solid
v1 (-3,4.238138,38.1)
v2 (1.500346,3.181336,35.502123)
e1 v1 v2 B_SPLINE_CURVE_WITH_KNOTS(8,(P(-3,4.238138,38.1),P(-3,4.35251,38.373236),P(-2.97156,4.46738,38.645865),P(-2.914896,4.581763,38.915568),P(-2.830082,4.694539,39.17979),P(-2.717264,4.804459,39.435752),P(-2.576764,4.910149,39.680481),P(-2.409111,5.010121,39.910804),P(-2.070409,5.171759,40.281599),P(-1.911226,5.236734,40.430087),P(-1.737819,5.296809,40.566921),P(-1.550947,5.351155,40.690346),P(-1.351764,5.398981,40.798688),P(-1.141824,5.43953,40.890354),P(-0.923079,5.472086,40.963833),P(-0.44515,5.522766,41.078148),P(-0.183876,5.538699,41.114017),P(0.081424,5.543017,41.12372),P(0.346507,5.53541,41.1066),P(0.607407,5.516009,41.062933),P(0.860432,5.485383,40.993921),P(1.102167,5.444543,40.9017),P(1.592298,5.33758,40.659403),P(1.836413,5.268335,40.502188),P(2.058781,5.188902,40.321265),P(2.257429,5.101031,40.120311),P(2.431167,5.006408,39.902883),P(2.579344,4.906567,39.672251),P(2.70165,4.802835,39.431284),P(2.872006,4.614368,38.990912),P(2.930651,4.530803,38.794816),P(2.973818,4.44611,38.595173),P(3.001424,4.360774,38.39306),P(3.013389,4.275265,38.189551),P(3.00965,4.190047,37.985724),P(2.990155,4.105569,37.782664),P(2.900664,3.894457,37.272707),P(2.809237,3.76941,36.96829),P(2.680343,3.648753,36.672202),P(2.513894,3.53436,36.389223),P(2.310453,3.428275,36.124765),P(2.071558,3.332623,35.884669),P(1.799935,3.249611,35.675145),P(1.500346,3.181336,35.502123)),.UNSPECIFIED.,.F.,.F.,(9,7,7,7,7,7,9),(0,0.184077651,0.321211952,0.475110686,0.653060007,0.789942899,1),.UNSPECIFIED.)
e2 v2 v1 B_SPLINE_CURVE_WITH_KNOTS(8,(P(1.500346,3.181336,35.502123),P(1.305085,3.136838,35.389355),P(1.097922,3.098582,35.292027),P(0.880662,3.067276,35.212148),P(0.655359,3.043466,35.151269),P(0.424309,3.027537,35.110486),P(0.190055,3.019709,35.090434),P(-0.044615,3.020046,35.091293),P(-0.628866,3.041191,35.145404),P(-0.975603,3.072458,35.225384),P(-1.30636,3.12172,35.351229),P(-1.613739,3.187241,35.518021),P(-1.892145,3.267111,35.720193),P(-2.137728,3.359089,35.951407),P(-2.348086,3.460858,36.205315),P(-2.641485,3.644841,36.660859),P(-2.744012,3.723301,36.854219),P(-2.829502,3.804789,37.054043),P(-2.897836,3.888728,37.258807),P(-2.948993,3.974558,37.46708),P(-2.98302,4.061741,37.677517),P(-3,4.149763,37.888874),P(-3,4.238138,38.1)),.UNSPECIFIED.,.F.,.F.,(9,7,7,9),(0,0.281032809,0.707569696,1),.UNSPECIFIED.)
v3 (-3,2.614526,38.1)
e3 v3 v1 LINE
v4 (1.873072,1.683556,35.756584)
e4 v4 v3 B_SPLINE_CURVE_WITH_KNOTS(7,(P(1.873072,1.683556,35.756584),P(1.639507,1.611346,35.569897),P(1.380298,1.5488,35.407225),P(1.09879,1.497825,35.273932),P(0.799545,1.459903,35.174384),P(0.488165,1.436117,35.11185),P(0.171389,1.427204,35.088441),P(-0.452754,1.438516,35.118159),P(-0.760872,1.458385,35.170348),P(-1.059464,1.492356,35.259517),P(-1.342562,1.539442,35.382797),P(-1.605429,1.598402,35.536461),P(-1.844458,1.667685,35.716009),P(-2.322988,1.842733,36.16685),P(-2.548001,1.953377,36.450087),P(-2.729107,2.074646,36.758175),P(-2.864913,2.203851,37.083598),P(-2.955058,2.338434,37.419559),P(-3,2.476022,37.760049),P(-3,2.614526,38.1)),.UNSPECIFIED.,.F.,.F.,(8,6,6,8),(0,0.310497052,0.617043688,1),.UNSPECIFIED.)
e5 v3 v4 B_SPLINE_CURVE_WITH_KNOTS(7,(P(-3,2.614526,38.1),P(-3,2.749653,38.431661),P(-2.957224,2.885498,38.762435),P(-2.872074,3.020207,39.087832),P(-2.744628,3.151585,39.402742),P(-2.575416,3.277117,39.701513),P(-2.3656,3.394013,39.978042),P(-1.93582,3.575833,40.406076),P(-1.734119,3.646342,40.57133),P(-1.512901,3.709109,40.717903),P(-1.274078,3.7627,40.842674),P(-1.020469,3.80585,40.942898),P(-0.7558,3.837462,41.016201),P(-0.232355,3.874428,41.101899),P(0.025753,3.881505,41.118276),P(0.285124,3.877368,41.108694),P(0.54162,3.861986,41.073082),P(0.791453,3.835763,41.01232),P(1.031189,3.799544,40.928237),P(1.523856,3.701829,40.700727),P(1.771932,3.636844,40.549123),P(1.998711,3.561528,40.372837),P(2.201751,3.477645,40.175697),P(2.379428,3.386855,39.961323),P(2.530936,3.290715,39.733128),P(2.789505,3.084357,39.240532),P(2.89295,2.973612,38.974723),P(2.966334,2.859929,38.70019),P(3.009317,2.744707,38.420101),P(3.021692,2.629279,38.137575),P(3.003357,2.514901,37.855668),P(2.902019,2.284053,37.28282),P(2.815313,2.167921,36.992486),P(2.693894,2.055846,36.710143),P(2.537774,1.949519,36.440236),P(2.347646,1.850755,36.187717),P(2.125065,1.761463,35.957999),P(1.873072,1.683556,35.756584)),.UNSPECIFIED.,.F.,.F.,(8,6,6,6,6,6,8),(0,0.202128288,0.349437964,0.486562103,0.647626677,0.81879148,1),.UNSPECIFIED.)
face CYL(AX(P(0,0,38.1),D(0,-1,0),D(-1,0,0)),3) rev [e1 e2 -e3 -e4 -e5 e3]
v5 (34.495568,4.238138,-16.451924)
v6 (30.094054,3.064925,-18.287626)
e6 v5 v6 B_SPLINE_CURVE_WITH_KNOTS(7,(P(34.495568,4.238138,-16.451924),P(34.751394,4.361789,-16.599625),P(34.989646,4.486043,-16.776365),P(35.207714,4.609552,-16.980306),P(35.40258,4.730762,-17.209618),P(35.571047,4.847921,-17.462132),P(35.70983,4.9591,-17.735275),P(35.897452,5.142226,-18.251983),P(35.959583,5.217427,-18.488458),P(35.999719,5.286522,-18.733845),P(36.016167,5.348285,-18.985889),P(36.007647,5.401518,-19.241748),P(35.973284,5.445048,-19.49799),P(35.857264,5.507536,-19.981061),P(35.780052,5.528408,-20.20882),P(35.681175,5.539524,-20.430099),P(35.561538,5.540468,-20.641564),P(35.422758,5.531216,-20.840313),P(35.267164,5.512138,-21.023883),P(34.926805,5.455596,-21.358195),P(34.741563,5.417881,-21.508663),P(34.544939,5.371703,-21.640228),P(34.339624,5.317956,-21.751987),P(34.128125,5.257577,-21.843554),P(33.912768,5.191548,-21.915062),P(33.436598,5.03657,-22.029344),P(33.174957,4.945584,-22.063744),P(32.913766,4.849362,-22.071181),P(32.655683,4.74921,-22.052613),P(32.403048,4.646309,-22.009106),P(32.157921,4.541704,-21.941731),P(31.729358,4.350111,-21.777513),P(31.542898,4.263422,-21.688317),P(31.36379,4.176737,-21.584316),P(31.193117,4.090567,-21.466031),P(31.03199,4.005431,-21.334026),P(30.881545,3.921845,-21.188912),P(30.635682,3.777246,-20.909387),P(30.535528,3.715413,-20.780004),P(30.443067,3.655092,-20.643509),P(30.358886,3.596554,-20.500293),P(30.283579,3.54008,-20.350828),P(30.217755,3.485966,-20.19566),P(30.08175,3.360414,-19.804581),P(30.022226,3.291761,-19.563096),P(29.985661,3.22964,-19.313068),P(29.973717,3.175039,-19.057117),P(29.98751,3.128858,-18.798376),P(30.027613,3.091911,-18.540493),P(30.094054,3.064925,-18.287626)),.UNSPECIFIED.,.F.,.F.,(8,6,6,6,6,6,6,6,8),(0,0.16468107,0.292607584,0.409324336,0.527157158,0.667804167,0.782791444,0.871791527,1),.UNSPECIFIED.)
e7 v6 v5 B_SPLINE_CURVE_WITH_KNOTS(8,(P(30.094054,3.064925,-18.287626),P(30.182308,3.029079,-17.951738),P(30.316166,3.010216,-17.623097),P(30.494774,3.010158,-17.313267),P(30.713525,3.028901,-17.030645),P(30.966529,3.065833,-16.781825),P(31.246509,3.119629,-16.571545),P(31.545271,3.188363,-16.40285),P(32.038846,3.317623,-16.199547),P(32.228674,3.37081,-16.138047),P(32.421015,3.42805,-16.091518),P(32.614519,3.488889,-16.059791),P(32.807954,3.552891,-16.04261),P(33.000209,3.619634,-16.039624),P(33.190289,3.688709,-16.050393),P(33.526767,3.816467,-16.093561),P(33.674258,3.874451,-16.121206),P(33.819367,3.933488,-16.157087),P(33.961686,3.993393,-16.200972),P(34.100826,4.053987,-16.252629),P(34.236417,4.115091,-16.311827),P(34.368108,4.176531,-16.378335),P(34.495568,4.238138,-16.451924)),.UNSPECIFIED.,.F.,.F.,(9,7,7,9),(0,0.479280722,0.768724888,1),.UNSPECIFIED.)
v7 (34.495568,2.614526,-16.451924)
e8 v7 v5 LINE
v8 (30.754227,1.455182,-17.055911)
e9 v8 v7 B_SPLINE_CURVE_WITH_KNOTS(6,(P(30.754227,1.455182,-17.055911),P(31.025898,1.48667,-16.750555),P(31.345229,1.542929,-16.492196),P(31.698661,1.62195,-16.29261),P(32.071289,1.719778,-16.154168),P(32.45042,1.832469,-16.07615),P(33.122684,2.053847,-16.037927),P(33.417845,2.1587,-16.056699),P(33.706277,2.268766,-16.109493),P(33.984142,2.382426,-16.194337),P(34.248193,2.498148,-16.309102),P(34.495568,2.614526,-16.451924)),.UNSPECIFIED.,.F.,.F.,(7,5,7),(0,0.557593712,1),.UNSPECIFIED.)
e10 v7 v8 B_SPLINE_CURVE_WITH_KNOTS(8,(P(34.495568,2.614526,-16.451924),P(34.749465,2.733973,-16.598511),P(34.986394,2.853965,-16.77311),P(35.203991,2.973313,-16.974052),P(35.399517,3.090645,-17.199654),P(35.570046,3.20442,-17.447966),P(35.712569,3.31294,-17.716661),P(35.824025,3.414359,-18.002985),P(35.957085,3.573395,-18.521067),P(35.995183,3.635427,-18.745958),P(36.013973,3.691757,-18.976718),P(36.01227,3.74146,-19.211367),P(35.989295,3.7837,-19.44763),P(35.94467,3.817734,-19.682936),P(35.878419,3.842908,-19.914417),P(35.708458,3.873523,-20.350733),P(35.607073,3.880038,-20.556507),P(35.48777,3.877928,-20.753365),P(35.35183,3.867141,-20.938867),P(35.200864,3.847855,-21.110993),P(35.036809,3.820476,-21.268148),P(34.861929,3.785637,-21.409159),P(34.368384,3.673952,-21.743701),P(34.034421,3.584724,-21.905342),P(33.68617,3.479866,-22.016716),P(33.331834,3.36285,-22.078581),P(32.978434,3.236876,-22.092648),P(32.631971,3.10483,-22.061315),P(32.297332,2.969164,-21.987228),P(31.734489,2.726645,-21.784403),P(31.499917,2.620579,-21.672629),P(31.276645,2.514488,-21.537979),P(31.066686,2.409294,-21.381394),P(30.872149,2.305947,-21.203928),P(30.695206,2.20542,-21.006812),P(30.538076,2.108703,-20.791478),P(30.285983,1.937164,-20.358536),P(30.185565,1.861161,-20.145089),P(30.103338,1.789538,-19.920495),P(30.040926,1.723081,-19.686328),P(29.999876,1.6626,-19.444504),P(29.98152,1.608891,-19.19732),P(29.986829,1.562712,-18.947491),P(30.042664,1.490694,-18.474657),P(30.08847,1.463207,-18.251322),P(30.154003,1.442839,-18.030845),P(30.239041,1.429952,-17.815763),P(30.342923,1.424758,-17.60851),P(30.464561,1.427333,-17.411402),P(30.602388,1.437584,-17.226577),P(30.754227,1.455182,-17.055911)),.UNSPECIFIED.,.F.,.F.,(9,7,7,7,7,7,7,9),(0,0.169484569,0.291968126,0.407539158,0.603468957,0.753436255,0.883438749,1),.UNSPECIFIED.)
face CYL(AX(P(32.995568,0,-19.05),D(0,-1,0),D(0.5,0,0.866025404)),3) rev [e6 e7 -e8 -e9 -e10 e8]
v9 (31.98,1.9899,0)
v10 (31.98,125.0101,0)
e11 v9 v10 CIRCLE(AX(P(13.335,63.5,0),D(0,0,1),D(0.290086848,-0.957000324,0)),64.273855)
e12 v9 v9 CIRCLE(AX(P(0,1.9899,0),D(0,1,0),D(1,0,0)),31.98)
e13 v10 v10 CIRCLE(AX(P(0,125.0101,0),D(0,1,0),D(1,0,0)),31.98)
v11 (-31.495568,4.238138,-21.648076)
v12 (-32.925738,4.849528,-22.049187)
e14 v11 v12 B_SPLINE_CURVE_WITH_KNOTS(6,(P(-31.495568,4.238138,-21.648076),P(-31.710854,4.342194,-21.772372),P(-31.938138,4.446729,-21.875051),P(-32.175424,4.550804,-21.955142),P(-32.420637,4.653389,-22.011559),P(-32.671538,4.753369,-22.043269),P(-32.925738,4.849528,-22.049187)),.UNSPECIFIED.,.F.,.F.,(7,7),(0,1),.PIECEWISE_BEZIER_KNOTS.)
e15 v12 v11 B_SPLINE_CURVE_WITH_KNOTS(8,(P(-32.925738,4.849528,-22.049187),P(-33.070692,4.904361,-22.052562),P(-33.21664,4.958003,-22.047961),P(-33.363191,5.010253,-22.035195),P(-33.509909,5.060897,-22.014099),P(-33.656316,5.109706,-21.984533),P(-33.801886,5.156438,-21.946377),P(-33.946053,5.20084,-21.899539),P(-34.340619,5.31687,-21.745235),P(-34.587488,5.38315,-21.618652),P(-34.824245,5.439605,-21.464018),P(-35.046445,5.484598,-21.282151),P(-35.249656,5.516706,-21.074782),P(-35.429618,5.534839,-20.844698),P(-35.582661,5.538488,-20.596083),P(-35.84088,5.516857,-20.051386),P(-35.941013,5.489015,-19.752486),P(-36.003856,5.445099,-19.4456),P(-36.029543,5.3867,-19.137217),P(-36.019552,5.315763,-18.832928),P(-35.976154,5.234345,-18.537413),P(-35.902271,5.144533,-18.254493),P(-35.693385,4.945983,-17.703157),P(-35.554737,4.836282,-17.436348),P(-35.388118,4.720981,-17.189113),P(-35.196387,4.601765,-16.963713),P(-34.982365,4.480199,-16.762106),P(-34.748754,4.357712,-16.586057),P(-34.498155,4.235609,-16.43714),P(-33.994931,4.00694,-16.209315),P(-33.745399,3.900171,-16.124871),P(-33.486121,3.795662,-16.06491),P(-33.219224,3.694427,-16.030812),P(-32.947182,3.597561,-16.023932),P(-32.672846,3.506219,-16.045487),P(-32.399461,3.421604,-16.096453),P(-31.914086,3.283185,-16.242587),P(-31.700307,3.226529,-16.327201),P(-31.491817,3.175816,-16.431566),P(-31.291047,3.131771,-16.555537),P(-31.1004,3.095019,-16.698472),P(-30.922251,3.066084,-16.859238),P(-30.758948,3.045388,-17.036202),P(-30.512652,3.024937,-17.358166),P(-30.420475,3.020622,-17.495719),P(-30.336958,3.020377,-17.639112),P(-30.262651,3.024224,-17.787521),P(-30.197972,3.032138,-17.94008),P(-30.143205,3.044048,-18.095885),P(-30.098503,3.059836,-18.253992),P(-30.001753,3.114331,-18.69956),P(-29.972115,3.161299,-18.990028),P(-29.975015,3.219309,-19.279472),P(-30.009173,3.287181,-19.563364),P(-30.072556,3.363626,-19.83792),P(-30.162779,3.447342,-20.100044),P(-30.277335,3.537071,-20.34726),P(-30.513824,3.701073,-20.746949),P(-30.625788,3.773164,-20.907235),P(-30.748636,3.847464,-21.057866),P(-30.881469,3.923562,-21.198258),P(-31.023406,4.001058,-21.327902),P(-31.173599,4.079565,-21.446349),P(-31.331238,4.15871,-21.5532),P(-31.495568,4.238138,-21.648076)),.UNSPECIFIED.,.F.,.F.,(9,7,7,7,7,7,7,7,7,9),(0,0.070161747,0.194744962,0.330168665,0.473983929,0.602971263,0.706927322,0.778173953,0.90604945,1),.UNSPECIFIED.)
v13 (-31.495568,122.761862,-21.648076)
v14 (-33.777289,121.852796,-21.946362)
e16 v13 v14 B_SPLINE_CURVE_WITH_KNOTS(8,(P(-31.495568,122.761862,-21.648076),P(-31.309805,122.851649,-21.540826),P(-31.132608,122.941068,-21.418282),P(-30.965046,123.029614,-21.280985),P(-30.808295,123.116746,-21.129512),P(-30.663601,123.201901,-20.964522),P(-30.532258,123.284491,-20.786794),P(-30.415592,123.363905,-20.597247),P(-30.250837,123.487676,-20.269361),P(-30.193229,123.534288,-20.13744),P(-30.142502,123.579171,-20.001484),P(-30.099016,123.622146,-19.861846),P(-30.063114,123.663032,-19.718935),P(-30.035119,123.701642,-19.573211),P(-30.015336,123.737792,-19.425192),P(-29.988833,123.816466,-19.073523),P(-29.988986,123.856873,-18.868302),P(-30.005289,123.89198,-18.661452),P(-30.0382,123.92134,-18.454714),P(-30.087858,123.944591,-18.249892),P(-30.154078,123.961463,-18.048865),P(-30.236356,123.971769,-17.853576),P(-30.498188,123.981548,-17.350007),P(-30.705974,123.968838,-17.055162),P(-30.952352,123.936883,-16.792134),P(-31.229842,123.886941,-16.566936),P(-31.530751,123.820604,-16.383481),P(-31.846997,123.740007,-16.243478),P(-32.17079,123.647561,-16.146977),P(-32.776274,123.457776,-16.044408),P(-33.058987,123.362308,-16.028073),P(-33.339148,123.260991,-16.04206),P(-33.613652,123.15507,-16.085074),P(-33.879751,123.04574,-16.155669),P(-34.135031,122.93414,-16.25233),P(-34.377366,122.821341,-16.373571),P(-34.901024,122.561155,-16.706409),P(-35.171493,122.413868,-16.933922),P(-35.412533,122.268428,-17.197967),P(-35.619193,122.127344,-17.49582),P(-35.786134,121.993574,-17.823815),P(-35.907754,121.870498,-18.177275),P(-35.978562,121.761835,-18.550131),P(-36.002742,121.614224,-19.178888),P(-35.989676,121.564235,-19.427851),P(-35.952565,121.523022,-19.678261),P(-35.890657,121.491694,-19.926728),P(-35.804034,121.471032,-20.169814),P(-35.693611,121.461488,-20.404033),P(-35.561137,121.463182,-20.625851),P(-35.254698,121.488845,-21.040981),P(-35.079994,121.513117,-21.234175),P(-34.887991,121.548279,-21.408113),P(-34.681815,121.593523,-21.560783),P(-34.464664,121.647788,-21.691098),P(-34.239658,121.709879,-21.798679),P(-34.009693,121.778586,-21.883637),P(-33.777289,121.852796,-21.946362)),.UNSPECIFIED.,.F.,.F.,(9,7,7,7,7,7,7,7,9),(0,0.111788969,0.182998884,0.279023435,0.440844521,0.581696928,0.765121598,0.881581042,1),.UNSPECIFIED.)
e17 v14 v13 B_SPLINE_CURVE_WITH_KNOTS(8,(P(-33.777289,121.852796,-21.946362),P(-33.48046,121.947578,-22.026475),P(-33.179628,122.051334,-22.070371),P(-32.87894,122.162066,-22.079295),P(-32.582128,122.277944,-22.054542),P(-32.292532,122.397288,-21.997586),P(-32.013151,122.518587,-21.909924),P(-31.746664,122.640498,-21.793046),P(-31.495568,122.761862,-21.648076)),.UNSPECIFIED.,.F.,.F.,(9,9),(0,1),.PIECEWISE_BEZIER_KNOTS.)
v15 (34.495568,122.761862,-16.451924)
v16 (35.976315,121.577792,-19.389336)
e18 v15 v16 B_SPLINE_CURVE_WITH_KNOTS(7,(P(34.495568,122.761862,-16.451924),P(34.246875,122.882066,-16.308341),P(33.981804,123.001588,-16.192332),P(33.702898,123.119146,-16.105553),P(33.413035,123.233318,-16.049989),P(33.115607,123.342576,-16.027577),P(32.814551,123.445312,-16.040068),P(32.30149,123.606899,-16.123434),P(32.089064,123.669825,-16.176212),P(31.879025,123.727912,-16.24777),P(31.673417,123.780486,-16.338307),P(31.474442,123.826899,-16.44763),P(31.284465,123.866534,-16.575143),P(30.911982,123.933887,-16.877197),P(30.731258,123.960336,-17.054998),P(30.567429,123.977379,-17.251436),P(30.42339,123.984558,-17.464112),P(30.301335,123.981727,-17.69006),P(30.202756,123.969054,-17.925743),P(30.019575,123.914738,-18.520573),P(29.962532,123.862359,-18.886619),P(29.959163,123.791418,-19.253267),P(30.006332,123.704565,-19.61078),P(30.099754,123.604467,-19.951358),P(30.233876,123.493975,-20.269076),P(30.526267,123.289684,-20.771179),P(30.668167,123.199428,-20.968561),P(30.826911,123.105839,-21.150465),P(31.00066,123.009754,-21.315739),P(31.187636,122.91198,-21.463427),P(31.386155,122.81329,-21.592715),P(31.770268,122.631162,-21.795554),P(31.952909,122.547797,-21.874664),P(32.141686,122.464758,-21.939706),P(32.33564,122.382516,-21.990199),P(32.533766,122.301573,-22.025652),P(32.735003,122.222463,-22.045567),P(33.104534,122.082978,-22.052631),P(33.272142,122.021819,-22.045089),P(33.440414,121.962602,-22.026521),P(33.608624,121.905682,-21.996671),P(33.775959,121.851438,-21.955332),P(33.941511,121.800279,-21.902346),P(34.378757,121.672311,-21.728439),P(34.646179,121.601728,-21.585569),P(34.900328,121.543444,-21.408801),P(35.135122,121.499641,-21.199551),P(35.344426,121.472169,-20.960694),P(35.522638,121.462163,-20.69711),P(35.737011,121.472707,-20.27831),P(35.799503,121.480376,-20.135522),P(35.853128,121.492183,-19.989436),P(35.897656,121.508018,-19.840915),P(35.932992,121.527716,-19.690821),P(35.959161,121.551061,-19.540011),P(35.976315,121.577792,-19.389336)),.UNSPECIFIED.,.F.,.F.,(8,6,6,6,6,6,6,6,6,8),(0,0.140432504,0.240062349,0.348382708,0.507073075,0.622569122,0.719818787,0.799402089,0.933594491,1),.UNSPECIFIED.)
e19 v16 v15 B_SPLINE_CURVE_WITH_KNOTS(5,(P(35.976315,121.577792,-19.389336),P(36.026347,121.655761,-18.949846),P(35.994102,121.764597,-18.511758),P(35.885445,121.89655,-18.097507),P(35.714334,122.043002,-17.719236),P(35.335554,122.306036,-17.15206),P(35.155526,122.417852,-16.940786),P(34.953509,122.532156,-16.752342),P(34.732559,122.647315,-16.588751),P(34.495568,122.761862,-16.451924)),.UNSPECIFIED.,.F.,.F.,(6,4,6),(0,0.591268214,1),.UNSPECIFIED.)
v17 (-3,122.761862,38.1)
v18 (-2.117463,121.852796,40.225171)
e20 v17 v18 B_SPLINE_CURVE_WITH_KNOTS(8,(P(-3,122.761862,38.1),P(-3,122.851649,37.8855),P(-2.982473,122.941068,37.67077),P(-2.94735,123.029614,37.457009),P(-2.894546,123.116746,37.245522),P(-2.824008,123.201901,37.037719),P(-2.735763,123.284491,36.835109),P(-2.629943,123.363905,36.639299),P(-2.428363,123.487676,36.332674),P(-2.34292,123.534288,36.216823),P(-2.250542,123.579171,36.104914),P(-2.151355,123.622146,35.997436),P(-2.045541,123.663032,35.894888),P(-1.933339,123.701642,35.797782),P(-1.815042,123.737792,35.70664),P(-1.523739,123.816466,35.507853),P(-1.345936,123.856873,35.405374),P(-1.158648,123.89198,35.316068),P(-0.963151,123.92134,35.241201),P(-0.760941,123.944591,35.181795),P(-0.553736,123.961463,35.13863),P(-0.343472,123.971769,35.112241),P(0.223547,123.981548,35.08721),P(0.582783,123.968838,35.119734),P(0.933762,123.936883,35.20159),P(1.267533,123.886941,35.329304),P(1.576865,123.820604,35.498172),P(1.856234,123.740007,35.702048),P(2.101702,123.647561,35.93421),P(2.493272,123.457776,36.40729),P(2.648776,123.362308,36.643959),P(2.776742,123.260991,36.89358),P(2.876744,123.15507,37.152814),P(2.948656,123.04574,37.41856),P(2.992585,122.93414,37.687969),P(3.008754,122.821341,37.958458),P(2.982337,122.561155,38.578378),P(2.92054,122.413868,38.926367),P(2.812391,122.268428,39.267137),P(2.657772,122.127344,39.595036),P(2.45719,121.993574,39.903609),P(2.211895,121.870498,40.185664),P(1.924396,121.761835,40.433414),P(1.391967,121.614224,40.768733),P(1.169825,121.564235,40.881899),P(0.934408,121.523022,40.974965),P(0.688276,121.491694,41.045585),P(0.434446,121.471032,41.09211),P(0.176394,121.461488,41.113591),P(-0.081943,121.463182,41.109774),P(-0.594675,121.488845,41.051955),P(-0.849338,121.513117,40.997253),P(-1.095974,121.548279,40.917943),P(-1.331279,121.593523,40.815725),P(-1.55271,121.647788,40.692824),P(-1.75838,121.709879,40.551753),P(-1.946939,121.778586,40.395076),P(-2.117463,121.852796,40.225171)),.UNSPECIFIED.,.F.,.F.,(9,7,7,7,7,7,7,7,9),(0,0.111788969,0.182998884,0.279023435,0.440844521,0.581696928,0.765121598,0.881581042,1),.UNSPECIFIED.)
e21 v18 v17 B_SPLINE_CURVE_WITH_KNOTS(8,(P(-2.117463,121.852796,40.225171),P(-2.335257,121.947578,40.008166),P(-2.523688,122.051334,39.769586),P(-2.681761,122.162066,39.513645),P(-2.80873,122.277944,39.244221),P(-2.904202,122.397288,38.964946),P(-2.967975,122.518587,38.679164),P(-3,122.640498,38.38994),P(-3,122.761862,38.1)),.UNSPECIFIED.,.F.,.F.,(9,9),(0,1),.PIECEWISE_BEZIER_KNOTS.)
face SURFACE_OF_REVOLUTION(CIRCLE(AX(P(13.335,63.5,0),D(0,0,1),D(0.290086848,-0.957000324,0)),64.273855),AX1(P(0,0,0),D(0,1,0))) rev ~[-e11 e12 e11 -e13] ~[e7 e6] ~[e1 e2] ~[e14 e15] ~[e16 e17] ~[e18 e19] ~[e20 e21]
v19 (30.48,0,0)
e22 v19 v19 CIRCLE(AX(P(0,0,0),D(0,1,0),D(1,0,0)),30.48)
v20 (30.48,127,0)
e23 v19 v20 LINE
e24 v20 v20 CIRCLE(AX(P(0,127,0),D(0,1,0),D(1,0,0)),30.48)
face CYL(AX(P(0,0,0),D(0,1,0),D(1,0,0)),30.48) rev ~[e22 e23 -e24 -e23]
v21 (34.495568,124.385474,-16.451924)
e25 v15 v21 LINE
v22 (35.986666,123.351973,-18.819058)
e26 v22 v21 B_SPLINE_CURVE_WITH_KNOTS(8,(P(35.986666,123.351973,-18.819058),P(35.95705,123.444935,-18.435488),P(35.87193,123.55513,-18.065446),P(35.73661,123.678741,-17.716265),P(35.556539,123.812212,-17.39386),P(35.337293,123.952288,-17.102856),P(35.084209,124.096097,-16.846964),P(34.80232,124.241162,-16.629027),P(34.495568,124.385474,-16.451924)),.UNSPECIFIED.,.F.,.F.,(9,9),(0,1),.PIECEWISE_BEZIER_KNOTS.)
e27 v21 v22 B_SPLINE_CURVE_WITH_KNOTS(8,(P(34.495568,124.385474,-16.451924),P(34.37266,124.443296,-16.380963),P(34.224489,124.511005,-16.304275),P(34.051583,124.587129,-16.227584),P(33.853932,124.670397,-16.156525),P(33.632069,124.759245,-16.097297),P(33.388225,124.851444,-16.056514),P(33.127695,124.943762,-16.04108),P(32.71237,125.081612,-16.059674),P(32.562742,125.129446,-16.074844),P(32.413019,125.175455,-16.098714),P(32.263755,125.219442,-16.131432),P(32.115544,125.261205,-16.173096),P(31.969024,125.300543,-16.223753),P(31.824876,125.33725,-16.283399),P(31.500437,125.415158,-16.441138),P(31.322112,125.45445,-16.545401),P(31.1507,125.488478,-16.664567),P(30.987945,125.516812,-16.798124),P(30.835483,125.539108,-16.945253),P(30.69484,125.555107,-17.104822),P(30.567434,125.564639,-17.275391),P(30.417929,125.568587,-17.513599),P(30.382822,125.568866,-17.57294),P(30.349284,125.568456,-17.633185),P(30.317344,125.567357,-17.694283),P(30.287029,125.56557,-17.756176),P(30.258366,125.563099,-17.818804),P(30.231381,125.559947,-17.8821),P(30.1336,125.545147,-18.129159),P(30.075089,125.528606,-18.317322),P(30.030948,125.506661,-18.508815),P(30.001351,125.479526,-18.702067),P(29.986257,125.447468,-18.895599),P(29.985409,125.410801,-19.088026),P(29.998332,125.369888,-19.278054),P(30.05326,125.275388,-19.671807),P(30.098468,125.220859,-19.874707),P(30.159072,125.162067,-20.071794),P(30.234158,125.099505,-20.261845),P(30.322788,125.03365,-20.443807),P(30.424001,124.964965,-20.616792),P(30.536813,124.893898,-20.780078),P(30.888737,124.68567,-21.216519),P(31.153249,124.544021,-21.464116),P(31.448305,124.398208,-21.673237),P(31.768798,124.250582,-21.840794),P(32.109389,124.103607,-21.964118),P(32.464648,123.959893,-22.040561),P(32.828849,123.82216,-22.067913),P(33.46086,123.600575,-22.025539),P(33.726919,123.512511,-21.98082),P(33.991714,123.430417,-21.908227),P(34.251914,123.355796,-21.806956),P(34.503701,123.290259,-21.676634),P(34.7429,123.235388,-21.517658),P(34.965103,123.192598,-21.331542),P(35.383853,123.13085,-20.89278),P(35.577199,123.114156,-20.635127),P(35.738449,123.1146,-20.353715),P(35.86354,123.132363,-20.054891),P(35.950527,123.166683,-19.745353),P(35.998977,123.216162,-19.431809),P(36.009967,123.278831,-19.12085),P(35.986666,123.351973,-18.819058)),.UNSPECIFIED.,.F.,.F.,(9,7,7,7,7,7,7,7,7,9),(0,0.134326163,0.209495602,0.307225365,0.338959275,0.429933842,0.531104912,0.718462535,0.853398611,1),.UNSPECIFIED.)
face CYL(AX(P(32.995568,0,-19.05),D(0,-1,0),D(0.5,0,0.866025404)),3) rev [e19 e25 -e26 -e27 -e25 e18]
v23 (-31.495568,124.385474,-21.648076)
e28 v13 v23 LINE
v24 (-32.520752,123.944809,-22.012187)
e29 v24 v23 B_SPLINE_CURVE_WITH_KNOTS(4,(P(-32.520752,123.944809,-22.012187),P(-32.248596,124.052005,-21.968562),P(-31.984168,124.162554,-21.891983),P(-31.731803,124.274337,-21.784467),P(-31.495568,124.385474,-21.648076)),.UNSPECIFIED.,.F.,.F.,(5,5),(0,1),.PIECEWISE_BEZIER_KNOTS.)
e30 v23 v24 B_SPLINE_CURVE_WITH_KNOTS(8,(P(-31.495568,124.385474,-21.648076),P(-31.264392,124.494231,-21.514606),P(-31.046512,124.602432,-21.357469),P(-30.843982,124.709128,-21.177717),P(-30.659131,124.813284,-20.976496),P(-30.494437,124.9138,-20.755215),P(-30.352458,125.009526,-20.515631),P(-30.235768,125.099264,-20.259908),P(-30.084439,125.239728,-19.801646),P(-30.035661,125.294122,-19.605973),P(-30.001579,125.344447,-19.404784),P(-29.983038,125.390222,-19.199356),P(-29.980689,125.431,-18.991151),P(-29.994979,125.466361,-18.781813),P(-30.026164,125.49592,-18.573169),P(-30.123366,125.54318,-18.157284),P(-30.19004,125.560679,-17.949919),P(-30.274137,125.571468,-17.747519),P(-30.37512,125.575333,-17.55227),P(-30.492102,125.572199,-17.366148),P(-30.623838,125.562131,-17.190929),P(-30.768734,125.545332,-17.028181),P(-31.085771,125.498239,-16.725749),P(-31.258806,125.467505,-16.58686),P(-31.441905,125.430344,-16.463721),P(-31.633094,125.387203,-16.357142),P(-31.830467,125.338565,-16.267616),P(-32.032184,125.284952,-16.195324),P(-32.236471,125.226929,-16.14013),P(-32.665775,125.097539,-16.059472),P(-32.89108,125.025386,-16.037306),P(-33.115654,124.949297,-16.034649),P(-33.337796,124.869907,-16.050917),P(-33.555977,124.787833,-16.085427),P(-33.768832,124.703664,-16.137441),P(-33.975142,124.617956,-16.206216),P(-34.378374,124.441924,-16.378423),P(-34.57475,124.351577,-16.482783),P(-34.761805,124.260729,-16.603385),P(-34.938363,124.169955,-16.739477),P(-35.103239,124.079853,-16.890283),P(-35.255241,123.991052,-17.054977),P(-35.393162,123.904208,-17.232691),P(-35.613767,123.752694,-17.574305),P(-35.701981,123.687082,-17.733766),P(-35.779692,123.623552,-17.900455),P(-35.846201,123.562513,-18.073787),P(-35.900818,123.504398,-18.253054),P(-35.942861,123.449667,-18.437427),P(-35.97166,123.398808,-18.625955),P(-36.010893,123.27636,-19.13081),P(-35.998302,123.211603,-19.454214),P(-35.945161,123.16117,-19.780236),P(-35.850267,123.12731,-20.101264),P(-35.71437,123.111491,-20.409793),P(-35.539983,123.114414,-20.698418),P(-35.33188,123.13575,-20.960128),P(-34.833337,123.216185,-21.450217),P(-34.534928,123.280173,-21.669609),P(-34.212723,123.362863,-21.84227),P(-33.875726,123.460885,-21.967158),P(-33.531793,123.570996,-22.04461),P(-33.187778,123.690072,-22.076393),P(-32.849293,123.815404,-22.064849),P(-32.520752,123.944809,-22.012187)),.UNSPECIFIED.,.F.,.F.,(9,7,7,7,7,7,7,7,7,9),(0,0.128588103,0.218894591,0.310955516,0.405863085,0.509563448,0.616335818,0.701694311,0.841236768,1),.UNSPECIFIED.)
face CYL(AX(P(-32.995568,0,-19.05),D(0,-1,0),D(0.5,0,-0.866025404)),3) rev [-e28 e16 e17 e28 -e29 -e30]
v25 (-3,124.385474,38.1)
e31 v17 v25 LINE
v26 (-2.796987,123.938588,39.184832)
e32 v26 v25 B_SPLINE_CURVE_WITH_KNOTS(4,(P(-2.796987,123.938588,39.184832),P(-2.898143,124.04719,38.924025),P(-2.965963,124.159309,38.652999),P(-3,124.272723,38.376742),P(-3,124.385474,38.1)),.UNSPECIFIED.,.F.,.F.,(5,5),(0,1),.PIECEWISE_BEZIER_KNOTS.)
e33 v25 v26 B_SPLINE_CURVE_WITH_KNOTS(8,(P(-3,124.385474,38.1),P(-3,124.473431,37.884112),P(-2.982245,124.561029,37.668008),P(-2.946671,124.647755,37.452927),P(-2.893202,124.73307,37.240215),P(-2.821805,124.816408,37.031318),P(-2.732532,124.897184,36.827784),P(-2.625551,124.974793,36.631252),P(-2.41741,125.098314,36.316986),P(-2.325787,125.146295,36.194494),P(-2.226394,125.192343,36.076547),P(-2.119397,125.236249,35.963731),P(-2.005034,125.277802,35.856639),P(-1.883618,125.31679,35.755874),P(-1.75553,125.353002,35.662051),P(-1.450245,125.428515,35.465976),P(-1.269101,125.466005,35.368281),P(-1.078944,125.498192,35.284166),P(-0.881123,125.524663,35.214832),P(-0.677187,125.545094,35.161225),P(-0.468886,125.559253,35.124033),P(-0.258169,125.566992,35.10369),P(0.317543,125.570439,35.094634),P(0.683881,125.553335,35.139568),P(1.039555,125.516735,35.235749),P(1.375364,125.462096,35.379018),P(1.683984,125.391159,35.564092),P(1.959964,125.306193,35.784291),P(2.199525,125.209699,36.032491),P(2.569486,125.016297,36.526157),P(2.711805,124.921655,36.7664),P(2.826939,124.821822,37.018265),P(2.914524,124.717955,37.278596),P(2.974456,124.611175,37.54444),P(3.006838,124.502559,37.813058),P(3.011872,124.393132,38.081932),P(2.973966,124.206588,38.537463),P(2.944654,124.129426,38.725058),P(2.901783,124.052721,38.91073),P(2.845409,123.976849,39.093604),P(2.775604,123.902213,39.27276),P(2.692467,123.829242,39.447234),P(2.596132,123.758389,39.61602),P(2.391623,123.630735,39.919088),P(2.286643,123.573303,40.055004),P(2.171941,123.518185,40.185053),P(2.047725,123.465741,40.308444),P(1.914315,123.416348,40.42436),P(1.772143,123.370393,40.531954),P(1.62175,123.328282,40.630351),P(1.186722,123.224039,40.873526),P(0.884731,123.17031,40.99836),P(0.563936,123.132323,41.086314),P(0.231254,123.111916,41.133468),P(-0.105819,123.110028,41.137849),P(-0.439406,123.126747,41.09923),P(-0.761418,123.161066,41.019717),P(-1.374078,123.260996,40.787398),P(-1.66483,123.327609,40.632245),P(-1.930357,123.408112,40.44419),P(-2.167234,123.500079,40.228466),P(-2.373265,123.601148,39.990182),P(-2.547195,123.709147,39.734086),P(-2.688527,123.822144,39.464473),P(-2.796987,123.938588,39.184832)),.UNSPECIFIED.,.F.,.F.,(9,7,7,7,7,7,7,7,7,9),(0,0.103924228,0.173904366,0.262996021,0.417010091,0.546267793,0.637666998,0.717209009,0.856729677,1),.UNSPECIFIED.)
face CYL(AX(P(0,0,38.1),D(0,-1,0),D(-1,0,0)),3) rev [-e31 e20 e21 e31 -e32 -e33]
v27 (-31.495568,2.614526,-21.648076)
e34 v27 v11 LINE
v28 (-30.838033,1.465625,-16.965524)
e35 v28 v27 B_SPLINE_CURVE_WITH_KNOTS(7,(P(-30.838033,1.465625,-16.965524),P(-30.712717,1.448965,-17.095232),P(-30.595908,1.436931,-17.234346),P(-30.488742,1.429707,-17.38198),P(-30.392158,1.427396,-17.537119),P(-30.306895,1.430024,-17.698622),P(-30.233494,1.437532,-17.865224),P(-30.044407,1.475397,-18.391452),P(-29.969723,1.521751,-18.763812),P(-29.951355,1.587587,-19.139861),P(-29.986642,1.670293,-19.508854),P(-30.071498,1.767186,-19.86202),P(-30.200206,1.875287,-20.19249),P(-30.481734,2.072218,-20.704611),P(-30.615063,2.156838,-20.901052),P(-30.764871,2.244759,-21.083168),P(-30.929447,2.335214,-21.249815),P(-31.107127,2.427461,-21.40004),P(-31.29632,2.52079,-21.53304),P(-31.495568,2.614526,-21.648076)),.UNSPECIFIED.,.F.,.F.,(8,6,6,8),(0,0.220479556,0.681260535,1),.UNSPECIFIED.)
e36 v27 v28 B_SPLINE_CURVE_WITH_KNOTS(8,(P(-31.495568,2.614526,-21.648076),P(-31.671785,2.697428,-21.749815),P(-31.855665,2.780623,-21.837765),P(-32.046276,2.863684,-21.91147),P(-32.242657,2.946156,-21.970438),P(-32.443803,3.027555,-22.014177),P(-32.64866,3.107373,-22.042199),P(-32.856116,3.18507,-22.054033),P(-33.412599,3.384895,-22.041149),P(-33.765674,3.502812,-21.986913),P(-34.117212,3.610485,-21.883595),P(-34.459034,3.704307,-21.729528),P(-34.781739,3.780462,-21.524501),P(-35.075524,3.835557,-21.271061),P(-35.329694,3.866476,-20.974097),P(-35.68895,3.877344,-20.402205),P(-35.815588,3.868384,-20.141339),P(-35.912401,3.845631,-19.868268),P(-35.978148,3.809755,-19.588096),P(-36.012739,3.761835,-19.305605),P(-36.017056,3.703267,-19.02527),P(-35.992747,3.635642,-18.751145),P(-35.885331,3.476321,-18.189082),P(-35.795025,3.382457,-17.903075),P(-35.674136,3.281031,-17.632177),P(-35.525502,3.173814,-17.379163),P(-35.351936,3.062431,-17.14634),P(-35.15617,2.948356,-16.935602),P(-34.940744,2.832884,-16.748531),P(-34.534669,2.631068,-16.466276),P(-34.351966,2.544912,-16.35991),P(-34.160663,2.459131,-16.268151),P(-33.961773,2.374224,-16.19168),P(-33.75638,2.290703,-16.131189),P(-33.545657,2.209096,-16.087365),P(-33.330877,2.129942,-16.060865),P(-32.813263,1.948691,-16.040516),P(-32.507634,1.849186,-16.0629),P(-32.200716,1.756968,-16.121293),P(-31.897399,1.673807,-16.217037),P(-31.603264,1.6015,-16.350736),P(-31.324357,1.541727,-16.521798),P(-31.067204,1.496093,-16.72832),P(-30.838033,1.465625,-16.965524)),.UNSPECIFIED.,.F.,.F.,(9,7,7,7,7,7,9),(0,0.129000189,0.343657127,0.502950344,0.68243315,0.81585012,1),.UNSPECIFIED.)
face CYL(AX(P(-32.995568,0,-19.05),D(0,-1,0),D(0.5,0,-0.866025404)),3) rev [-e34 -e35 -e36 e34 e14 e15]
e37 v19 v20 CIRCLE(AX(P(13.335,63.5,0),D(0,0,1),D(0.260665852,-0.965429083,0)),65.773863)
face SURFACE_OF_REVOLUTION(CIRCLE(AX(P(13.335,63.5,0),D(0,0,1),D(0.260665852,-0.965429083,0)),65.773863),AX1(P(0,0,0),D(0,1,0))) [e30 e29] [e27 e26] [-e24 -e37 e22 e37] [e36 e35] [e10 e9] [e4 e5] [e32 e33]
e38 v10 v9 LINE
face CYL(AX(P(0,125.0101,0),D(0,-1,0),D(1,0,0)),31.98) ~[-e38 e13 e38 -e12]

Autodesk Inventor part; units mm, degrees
ref_plane "YZ Plane" through (0, 0, 0) normal (1, 0, 0) x (0, 1, 0)
ref_plane "XZ Plane" through (0, 0, 0) normal (0, 1, 0) x (-1, 0, 0)
ref_plane "XY Plane" through (0, 0, 0) normal (0, 0, 1) x (1, 0, 0)
sketch "Sketch1" plane through (0, 0, 0) normal (0, 0, 1) x (1, 0, 0)
  line L0 (0, 0) -> (0, 25.4) construction
  line L1 (30.48, 0) -> (30.48, 127)
  line L2 (0, 0) -> (30.48, 0)
  arc A0 (30.48, 0) -> (30.48, 127) centre (13.335, 63.5) ccw
  line L3 (31.98, 125.0101) -> (31.98, 1.9899)
  arc A1 (31.98, 1.9899) -> (31.98, 125.0101) centre (13.335, 63.5) ccw
  dimension "d0" = 25.4
  dimension "d1" = 30.48
  dimension "d2" = 127
  dimension "d8" = 17.145
  dimension "d9" = 1.5
revolve "Revolution1" add sketch "Sketch1" angle 360 about axis through (0, 0, 0) along (0, 1, 0)
sketch "Sketch2" plane through (0, 0, 0) normal (0, 1, 0) x (-1, 0, 0)
  circle A0 centre (0, 38.1) radius 3
  line L0 (0, 0) -> (0, 38.1) construction
  dimension "d11" = 6
  dimension "d12" = 38.1
extrude "Extrusion1" cut sketch "Sketch2" along normal blind 127
pattern_circular "Circular Pattern1" count 3 over 360 about axis through (0, 63.5, 0) along (0, 1, 0) of "Extrusion1"
properties part number "Buoy 5 HalfSphere"
